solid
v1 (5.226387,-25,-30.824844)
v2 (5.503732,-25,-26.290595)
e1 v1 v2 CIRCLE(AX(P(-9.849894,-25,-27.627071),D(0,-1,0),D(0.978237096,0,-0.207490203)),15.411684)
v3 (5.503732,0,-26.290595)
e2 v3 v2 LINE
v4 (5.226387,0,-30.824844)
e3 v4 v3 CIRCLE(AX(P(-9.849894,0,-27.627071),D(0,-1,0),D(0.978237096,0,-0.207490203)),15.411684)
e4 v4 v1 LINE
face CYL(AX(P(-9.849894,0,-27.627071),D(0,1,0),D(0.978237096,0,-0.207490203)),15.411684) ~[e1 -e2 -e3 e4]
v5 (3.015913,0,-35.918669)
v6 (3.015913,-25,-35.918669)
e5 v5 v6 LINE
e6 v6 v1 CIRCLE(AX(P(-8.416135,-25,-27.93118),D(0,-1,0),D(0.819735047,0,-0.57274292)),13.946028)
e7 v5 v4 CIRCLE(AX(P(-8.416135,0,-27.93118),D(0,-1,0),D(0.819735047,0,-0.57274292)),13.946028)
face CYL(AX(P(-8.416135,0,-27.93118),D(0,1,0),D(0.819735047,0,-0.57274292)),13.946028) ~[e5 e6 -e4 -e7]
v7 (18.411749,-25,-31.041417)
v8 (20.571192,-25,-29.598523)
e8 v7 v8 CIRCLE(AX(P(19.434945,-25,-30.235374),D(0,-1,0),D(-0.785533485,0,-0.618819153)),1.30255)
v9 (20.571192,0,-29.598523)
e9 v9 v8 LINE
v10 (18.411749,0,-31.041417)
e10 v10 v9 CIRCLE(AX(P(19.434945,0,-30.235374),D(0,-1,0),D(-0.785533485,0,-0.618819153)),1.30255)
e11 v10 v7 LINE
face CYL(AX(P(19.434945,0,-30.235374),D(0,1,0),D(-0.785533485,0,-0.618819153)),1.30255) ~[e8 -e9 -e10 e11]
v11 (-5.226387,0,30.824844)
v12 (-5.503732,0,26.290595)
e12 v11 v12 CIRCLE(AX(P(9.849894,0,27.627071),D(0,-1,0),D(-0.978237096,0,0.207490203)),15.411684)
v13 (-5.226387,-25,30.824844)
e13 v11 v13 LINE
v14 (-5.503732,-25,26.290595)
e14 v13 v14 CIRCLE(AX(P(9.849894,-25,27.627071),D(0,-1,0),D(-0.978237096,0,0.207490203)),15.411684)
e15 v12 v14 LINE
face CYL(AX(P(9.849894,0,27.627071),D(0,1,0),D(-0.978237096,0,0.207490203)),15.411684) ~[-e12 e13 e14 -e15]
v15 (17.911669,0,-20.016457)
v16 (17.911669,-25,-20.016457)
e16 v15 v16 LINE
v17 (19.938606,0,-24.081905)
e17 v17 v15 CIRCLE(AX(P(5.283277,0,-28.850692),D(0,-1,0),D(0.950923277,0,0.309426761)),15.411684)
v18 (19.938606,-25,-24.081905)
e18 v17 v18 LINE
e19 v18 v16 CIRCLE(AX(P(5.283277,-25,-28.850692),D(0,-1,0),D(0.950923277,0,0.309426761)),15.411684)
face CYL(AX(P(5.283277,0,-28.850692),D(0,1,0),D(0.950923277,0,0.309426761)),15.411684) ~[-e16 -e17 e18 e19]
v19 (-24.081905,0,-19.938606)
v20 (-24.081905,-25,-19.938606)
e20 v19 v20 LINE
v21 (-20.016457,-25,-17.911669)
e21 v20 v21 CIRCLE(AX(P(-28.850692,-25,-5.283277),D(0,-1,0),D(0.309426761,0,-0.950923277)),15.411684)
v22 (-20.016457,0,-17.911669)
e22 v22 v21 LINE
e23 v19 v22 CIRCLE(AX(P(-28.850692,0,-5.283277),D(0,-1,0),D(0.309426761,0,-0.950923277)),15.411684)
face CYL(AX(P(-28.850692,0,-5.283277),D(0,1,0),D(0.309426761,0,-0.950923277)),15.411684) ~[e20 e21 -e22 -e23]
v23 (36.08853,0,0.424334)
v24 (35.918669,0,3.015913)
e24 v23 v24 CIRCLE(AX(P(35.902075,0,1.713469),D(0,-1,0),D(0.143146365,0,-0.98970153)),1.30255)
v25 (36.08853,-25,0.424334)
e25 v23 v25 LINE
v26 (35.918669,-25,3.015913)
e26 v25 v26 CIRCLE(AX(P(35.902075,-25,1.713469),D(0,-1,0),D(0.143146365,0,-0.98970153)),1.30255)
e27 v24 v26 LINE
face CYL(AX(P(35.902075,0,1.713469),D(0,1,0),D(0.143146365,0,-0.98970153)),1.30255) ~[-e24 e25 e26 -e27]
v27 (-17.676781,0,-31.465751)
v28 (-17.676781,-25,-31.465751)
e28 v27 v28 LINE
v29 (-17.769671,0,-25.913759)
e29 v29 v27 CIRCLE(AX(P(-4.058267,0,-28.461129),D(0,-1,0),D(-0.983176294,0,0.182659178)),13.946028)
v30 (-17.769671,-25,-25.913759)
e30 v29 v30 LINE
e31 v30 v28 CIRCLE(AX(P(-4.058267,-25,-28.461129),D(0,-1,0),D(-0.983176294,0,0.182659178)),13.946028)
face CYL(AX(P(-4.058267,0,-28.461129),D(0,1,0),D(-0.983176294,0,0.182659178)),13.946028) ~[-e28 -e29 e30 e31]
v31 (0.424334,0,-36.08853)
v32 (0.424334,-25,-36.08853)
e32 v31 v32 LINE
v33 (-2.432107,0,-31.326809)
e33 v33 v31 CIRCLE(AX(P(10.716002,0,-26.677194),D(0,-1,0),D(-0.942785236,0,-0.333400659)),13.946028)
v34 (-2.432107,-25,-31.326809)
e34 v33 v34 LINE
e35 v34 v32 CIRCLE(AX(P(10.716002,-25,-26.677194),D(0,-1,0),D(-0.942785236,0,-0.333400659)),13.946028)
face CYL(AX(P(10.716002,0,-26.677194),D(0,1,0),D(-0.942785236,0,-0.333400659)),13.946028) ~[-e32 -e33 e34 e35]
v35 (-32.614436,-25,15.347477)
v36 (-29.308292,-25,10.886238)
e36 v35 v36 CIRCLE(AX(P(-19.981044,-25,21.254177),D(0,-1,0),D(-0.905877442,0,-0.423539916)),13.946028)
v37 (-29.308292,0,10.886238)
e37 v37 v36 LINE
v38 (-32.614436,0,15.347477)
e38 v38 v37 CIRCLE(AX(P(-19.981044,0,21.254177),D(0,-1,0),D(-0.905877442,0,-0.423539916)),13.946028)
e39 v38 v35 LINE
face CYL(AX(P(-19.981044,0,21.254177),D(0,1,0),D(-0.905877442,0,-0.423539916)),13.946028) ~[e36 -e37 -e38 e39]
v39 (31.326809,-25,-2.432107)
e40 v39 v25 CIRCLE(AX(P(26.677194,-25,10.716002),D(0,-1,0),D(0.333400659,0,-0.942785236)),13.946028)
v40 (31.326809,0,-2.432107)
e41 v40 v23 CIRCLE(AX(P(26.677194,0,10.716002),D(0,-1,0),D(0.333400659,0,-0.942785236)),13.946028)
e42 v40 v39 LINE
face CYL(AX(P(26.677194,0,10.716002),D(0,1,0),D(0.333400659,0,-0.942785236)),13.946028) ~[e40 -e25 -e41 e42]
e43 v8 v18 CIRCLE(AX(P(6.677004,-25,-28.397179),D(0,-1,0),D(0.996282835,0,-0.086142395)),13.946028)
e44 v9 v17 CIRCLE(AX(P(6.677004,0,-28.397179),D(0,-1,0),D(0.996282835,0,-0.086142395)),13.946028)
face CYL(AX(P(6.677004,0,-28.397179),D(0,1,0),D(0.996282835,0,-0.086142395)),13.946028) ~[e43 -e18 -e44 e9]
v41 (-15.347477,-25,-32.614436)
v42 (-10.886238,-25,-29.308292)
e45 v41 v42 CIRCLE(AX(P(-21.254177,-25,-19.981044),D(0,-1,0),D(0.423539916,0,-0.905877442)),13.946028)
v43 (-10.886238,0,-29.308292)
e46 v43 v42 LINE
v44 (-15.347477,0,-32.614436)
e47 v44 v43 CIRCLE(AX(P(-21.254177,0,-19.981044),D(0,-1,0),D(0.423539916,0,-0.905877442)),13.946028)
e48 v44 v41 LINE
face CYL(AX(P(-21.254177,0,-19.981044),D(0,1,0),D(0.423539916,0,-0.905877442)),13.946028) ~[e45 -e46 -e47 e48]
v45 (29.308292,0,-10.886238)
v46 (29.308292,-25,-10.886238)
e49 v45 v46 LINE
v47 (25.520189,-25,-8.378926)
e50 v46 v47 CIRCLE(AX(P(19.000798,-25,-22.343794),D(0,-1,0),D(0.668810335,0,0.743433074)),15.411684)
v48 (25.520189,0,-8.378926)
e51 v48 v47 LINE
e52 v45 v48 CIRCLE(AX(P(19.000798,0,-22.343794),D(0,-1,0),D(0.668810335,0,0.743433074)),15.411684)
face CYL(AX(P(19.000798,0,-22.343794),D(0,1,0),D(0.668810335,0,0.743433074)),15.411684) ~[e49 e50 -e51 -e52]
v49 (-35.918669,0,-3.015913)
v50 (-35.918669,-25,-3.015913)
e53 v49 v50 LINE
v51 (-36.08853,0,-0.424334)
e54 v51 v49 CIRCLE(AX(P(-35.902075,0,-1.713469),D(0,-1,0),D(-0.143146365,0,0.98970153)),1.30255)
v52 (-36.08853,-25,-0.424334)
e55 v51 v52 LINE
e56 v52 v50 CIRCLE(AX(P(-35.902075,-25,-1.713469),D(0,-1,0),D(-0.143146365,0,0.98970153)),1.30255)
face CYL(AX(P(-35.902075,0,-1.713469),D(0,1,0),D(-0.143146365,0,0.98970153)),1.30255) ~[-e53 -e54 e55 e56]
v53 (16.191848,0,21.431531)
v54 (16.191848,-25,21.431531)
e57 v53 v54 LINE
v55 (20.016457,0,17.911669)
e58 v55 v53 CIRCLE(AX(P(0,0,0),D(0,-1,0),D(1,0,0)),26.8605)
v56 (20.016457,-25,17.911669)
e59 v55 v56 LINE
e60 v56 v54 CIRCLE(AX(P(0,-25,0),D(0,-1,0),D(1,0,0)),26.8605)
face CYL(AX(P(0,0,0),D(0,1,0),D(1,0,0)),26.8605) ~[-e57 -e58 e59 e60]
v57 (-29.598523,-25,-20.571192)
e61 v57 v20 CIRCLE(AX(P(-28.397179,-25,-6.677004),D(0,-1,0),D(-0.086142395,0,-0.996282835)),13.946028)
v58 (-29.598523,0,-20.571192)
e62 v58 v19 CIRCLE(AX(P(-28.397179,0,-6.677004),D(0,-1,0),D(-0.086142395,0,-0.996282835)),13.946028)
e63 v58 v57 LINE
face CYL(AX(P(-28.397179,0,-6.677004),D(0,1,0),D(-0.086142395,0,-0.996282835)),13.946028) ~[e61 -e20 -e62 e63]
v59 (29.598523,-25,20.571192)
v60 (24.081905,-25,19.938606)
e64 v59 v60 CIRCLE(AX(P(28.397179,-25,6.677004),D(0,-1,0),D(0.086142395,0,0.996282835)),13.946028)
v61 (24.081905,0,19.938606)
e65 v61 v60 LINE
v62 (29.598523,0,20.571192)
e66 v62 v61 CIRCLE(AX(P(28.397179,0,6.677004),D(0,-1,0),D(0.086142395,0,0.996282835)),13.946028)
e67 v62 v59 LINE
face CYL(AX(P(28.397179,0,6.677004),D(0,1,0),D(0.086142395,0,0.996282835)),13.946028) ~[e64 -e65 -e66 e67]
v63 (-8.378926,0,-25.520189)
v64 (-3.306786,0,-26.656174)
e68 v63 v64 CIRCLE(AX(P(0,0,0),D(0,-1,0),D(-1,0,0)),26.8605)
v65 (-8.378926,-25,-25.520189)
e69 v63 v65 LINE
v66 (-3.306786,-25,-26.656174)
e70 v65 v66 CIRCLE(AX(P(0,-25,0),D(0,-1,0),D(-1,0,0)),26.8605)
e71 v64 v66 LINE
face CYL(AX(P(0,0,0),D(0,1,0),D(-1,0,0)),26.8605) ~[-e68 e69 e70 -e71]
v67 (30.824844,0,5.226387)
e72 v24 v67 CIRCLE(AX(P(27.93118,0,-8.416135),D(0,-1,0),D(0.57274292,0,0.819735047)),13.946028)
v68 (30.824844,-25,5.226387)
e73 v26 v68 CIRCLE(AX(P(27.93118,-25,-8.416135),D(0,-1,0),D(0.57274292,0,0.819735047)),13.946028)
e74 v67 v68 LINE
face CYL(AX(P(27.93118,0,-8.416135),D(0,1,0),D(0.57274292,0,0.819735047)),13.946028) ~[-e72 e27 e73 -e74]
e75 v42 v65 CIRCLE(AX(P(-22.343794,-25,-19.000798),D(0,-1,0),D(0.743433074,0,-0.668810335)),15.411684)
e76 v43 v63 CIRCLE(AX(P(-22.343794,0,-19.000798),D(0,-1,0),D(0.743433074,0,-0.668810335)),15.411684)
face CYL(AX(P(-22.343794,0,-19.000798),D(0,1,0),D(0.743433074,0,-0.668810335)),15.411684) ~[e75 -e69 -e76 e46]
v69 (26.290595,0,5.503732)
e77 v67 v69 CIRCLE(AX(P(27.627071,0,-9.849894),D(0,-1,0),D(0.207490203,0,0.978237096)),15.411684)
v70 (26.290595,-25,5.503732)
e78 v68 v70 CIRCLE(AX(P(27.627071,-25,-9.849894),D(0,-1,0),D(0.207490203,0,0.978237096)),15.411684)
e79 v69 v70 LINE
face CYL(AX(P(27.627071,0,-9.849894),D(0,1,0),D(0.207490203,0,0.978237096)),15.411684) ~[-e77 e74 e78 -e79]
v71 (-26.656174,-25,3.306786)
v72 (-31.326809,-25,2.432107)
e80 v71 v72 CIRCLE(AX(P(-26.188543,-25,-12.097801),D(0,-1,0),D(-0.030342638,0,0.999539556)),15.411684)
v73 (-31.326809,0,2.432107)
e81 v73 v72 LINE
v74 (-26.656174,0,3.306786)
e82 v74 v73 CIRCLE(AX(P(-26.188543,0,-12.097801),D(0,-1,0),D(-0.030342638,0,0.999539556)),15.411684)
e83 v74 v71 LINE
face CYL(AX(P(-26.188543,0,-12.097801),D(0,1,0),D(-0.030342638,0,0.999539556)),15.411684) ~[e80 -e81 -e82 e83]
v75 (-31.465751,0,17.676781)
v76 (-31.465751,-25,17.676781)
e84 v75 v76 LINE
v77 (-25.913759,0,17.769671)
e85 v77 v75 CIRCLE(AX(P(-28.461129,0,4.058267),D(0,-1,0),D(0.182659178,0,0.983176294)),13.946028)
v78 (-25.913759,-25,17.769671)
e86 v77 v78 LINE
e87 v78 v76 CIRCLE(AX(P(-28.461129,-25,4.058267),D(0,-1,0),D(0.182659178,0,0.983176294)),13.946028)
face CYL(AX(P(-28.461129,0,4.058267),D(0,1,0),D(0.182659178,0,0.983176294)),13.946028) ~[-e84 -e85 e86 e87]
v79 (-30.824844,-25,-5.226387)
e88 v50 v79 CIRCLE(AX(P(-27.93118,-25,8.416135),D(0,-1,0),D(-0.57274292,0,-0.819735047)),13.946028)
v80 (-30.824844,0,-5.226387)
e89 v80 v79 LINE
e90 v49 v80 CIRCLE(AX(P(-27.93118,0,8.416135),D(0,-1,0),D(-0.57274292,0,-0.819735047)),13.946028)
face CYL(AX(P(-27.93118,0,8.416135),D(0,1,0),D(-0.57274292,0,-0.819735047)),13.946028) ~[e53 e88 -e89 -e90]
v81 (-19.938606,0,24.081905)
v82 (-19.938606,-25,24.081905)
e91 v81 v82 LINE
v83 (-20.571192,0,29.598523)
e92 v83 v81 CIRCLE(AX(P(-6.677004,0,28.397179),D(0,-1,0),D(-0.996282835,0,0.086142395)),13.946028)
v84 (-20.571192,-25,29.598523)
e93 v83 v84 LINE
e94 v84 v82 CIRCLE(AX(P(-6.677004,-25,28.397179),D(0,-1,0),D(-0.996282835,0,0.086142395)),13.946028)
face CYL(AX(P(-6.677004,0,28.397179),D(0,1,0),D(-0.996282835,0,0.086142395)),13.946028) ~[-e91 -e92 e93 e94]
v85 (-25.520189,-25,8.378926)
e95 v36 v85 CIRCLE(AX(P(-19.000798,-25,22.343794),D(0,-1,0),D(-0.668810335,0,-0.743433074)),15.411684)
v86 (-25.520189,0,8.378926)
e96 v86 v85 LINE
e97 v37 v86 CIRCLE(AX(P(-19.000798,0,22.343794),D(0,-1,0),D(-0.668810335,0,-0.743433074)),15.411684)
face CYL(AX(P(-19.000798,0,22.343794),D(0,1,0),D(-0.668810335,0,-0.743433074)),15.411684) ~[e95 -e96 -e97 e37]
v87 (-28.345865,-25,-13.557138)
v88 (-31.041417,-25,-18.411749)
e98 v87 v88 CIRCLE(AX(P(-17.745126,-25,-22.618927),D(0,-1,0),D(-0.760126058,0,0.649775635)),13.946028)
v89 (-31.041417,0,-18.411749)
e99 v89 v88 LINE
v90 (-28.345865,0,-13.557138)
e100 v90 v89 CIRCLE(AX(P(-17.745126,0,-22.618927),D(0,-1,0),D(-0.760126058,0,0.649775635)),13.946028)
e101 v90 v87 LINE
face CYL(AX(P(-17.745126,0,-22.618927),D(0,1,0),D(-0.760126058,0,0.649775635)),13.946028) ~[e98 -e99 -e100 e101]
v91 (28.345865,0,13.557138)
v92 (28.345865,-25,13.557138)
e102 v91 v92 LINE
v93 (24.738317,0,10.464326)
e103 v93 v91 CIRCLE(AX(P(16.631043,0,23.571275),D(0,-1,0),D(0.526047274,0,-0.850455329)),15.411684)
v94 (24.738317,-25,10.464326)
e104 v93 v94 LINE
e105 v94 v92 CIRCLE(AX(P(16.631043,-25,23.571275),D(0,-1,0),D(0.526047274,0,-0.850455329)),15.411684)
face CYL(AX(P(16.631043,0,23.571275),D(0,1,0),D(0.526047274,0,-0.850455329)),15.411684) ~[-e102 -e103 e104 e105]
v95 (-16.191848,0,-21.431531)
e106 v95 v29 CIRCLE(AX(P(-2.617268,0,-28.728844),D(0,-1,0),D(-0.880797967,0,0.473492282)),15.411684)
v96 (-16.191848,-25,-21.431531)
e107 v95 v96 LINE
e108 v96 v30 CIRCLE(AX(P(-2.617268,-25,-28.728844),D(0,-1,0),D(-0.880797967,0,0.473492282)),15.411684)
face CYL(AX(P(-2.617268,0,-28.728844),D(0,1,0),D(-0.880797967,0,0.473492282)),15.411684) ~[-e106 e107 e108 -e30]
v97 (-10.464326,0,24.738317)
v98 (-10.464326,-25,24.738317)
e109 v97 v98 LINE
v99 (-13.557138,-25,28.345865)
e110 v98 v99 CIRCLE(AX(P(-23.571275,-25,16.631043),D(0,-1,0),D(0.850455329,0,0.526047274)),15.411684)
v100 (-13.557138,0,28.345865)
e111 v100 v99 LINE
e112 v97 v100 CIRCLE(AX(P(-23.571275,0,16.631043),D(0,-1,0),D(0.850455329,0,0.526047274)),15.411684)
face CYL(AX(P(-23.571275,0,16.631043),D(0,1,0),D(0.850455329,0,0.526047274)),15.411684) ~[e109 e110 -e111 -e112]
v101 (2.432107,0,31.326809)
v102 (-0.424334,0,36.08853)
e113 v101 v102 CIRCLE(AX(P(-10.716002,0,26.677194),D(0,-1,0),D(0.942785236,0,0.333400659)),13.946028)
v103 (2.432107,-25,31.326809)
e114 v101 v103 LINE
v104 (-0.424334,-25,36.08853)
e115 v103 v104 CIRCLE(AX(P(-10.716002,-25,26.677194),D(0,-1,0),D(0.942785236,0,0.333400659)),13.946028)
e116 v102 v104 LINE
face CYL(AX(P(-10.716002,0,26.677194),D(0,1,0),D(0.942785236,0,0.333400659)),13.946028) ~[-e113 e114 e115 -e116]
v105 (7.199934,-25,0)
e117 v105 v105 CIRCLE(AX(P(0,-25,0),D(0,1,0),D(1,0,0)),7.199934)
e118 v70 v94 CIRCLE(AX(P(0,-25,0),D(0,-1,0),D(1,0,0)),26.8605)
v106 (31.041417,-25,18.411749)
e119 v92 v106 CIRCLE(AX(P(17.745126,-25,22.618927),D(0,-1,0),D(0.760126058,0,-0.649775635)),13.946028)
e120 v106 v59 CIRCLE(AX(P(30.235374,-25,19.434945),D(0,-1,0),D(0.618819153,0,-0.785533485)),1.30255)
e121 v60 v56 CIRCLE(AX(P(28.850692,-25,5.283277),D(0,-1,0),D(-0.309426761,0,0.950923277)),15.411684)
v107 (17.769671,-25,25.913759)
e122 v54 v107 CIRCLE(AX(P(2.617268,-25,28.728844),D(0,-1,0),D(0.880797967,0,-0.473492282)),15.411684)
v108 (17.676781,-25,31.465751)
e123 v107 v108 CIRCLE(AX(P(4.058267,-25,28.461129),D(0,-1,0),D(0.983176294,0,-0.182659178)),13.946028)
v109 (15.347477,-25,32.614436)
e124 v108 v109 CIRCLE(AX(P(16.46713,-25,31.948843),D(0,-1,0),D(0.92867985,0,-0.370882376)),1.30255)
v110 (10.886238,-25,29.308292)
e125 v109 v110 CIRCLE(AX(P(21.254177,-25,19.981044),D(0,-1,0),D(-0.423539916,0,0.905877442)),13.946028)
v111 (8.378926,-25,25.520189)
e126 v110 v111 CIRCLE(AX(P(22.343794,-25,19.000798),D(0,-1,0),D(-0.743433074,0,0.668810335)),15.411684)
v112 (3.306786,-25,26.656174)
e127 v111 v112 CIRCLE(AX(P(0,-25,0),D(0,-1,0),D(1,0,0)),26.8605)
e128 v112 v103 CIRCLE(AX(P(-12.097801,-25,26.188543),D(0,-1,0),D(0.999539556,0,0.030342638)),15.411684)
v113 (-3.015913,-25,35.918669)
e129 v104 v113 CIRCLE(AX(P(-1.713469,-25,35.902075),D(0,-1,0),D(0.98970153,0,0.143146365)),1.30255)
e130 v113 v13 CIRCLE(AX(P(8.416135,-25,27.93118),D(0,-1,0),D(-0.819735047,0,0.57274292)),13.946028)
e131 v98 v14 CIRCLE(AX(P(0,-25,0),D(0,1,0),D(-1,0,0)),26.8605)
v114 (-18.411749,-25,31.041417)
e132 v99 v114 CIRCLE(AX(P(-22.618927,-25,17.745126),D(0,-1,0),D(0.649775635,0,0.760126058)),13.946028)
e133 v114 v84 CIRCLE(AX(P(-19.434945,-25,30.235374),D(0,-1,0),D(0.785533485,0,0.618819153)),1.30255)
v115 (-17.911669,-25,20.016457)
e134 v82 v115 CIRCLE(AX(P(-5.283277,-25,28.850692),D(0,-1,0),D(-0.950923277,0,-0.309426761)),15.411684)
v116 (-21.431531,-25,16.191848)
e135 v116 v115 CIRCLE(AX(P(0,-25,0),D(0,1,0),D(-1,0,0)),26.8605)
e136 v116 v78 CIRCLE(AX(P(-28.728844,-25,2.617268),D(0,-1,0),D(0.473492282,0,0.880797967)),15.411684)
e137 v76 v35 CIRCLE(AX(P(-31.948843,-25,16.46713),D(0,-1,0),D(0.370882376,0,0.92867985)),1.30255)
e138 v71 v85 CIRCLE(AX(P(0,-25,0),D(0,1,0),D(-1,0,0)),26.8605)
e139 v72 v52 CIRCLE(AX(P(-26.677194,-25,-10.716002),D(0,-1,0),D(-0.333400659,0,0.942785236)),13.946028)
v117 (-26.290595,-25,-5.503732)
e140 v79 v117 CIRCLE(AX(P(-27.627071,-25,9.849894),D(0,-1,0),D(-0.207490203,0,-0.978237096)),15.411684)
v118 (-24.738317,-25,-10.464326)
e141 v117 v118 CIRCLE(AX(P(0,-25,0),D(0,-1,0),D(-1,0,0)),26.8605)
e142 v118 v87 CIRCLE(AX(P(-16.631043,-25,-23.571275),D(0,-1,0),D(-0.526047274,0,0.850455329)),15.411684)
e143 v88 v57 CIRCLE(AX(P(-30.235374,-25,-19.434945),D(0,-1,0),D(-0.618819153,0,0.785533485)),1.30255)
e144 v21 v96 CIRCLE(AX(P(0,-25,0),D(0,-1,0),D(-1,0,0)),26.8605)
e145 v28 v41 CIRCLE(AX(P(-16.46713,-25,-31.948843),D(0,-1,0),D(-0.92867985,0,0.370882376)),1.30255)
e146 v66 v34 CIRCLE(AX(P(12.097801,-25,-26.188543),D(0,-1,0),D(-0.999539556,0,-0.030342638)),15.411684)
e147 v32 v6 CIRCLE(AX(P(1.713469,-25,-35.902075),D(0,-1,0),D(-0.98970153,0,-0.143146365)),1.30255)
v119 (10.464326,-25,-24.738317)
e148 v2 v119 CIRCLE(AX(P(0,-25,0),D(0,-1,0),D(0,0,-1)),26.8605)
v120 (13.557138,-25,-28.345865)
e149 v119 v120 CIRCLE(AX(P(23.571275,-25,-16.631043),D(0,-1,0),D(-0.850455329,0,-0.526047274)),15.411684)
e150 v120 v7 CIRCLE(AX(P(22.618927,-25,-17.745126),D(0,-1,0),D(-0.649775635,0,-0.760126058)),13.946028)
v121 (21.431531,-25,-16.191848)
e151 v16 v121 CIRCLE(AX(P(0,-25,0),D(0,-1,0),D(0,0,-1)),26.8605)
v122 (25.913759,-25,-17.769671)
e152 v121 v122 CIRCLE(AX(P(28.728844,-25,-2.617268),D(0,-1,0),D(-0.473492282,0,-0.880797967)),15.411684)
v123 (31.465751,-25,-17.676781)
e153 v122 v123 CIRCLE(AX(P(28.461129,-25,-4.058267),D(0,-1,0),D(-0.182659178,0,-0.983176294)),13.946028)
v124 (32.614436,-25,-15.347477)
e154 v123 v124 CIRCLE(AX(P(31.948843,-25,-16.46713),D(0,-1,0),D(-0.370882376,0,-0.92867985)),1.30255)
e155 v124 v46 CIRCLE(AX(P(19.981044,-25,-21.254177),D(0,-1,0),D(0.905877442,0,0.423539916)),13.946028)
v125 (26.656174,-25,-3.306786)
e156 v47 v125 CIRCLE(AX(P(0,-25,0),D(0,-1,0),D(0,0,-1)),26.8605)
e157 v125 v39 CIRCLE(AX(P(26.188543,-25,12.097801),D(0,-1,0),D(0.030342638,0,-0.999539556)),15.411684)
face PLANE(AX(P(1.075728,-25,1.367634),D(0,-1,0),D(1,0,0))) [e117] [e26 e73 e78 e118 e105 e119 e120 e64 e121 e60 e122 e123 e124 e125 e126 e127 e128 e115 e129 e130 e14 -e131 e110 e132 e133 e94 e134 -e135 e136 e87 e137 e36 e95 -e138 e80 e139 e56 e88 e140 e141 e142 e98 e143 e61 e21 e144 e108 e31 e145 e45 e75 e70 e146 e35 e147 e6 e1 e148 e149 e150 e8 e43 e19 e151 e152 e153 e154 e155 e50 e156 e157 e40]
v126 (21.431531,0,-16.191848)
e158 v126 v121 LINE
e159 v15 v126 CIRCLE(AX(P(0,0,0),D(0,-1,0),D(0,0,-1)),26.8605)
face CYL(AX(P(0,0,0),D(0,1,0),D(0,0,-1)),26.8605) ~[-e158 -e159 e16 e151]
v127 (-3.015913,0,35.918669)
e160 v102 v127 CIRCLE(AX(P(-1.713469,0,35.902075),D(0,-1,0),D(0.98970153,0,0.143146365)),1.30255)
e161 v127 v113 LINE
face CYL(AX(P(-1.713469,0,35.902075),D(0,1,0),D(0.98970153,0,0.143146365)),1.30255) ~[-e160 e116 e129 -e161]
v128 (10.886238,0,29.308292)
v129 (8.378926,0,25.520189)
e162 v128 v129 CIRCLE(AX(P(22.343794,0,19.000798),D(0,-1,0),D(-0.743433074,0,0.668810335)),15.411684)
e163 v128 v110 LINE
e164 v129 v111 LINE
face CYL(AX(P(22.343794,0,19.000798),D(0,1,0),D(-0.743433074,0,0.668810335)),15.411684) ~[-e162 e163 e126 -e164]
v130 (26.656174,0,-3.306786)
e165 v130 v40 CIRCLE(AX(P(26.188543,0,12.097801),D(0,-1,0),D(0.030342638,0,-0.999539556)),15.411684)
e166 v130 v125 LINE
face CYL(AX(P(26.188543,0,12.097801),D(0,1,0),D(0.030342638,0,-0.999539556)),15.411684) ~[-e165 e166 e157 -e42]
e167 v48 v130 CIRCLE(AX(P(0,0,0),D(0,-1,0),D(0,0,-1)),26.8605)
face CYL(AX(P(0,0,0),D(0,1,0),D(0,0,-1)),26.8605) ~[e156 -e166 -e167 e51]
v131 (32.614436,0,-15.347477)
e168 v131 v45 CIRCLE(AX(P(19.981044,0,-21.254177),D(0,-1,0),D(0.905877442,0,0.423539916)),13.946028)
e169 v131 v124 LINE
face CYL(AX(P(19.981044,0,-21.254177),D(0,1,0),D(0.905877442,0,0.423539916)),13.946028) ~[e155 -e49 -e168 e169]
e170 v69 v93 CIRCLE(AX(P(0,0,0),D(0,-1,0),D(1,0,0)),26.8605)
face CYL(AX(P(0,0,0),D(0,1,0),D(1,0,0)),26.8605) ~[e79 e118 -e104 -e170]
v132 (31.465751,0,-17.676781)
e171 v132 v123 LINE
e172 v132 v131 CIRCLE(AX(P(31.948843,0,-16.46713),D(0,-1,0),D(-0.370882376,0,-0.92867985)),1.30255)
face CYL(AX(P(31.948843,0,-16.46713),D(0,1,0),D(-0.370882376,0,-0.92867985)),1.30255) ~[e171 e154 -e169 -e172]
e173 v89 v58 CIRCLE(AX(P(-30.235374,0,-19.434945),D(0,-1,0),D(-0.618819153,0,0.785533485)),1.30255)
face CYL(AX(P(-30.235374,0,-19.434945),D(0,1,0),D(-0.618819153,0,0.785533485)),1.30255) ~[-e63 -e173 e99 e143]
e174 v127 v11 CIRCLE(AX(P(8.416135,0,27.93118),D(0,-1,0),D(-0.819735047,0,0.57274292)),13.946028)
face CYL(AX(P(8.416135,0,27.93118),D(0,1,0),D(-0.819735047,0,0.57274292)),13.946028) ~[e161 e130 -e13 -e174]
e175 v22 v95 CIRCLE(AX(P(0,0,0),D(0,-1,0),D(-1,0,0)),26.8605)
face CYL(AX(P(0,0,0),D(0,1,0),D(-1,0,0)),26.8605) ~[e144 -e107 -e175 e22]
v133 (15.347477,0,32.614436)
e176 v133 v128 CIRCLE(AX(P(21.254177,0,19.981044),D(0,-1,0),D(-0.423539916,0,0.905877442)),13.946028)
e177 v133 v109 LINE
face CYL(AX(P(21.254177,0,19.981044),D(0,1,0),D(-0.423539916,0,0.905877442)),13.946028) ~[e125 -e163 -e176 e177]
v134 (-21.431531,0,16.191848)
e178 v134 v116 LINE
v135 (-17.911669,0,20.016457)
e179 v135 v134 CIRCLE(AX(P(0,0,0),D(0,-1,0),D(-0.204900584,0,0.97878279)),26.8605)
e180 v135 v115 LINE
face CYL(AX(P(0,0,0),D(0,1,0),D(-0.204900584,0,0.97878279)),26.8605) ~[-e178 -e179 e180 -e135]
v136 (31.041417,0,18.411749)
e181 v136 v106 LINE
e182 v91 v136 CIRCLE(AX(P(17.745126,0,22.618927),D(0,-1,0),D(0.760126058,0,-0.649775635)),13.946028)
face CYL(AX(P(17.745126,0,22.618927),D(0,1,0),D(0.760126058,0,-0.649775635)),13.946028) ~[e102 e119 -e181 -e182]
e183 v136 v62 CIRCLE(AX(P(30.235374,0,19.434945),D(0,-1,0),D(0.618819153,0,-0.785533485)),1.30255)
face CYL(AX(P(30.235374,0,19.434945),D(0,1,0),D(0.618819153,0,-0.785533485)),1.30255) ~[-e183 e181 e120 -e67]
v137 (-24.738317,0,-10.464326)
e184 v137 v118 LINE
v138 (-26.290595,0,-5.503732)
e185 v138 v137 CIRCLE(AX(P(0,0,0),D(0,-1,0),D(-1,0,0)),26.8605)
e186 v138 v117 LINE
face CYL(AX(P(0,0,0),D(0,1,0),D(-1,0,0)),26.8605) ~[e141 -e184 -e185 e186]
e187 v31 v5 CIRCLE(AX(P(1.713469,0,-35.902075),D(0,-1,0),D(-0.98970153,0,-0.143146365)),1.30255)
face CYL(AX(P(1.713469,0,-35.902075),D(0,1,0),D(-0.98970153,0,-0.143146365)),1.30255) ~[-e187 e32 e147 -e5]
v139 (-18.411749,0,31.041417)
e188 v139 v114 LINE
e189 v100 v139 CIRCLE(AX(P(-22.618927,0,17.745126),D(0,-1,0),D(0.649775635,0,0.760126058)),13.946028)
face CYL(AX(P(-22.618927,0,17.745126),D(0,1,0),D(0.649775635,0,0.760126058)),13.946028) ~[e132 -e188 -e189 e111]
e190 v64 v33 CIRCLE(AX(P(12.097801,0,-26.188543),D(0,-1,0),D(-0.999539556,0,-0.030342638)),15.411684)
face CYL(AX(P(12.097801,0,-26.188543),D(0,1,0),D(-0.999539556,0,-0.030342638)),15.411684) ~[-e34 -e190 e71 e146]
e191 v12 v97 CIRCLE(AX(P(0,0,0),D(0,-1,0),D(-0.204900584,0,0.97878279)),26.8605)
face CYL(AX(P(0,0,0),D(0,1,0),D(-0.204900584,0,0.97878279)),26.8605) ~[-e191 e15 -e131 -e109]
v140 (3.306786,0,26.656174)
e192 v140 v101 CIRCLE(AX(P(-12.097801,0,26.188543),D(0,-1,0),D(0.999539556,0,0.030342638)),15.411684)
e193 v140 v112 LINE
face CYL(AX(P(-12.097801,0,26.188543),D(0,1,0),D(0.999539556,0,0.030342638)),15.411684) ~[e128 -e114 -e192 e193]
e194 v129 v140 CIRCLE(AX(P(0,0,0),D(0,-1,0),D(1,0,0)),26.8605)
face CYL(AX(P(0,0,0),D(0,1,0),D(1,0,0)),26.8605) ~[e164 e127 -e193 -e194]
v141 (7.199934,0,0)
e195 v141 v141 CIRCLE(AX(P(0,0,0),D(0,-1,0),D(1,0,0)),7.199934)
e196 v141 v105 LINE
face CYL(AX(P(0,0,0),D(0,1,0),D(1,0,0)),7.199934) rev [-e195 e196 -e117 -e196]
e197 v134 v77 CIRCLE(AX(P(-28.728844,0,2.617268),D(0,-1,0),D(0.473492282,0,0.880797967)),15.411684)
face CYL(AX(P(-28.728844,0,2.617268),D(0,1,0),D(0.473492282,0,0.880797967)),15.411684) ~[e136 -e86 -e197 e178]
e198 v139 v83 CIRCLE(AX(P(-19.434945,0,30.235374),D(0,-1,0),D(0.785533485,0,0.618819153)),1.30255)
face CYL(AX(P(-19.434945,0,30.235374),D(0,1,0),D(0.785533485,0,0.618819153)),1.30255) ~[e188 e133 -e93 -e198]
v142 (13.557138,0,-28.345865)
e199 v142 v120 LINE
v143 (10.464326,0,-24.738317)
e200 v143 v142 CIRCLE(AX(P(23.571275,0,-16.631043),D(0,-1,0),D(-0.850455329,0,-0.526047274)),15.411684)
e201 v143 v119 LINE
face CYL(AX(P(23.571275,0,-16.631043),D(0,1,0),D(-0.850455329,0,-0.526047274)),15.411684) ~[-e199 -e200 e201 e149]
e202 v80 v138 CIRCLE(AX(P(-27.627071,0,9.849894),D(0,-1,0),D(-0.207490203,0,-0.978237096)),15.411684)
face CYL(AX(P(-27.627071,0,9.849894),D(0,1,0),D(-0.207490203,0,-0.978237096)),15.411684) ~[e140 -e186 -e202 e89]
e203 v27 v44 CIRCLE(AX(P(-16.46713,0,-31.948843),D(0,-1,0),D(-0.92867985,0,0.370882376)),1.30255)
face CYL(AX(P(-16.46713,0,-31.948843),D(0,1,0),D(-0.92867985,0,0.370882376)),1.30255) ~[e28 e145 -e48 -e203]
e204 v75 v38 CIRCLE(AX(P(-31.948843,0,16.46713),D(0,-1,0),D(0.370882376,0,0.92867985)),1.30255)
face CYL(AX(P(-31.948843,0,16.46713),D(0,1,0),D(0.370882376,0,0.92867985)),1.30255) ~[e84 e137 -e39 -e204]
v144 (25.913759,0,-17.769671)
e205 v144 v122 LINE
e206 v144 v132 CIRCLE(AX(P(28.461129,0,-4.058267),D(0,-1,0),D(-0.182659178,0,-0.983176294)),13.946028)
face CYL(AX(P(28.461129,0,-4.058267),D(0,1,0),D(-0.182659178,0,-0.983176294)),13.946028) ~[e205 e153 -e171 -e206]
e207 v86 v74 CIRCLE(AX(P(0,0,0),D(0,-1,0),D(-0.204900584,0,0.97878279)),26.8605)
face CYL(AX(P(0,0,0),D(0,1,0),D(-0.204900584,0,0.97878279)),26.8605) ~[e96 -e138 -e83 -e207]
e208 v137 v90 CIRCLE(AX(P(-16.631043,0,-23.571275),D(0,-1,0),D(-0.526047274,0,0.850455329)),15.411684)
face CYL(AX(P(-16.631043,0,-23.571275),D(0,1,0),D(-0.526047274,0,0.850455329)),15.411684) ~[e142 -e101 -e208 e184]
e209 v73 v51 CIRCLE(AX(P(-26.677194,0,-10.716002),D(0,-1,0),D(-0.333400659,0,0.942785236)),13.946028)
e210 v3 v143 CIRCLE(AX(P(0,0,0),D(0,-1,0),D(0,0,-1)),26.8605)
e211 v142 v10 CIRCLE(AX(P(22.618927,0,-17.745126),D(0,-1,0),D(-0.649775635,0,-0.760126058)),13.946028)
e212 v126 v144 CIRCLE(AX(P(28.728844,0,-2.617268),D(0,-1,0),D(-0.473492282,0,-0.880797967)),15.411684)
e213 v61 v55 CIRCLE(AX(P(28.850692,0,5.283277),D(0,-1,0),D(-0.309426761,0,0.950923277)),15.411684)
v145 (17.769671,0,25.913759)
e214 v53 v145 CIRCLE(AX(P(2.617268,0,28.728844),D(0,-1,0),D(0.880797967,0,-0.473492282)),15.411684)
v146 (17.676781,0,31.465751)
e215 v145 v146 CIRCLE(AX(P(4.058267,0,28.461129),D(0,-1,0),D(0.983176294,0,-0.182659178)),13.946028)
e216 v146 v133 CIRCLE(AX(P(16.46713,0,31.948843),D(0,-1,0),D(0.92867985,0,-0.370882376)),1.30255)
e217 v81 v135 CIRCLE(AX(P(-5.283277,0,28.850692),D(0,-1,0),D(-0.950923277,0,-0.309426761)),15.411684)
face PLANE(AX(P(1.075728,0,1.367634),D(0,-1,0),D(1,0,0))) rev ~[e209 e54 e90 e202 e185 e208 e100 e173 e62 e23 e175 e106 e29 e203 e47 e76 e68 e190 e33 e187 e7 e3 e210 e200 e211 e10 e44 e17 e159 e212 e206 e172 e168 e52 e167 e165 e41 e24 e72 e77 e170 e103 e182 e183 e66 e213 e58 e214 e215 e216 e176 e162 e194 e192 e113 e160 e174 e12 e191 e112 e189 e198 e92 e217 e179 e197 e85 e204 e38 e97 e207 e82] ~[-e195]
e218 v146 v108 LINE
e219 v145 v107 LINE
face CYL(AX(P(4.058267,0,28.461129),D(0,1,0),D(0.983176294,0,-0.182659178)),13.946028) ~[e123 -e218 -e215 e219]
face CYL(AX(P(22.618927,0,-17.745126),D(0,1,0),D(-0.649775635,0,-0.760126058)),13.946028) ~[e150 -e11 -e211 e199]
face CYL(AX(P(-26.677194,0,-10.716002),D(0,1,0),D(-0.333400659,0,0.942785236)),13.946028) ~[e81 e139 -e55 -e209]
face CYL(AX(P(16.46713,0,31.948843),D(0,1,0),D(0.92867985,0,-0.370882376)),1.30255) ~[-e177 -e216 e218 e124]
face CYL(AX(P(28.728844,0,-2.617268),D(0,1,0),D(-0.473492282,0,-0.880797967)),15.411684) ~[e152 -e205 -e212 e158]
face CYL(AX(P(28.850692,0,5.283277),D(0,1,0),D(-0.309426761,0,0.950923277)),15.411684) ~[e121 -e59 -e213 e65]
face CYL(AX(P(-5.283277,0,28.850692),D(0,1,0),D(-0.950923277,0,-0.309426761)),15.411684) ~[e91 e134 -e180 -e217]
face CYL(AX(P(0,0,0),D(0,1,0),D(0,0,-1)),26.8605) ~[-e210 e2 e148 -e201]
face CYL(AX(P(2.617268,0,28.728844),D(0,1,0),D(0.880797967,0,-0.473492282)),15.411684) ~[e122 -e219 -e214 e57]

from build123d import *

# Parameters (mm, degrees)
F0_R     = 7.1999341443
F1_DEPTH = 25
F2_COUNT = 12


with BuildPart() as f1:
    # F0 (on Front) → F1 (new body)
    with BuildSketch(Plane.XZ):
        with BuildLine():
            ThreePointArc((-5.5037321386, 26.2905951396), (-16.935959718, -20.8484946382), (26.8605, 0))
            ThreePointArc((26.8605, 0), (20.1284425334, 17.7857319622), (3.3067864481, 26.6561742123))
            ThreePointArc((3.3067864481, 26.6561742123), (-1.1135773913, 26.8374068353), (-5.5037321386, 26.2905951396))
        make_face()
        Circle(F0_R, mode=Mode.SUBTRACT)
        with BuildLine():
            ThreePointArc((-5.5037321386, 26.2905951396), (-1.1135773913, 26.8374068353), (3.3067864481, 26.6561742123))
            ThreePointArc((3.3067864481, 26.6561742123), (3.0505391046, 29.0254049685), (2.4321068113, 31.3268085785))
            ThreePointArc((2.4321068113, 31.3268085785), (1.2432740933, 33.8512720329), (-0.4243337525, 36.0885299609))
            ThreePointArc((-0.4243337525, 36.0885299609), (-1.7986599336, 37.2018354856), (-3.0159130327, 35.9186688807))
            ThreePointArc((-3.0159130327, 35.9186688807), (-4.3772335038, 33.4828845022), (-5.226386991, 30.8248443747))
            ThreePointArc((-5.226386991, 30.8248443747), (-5.5330402485, 28.5679945844), (-5.5037321386, 26.2905951396))
        make_face()
    extrude(amount=F1_DEPTH)

    # F2: F1 ×12 about axis
    f2_axis = Axis((0, 0, 0), (0, 1, 0))


with BuildPart() as f1_1:
    add(f1.part)
    for i in range(1, F2_COUNT):
        add(f1.part.rotate(f2_axis, i * 360 / F2_COUNT))


solid = f1_1.part
